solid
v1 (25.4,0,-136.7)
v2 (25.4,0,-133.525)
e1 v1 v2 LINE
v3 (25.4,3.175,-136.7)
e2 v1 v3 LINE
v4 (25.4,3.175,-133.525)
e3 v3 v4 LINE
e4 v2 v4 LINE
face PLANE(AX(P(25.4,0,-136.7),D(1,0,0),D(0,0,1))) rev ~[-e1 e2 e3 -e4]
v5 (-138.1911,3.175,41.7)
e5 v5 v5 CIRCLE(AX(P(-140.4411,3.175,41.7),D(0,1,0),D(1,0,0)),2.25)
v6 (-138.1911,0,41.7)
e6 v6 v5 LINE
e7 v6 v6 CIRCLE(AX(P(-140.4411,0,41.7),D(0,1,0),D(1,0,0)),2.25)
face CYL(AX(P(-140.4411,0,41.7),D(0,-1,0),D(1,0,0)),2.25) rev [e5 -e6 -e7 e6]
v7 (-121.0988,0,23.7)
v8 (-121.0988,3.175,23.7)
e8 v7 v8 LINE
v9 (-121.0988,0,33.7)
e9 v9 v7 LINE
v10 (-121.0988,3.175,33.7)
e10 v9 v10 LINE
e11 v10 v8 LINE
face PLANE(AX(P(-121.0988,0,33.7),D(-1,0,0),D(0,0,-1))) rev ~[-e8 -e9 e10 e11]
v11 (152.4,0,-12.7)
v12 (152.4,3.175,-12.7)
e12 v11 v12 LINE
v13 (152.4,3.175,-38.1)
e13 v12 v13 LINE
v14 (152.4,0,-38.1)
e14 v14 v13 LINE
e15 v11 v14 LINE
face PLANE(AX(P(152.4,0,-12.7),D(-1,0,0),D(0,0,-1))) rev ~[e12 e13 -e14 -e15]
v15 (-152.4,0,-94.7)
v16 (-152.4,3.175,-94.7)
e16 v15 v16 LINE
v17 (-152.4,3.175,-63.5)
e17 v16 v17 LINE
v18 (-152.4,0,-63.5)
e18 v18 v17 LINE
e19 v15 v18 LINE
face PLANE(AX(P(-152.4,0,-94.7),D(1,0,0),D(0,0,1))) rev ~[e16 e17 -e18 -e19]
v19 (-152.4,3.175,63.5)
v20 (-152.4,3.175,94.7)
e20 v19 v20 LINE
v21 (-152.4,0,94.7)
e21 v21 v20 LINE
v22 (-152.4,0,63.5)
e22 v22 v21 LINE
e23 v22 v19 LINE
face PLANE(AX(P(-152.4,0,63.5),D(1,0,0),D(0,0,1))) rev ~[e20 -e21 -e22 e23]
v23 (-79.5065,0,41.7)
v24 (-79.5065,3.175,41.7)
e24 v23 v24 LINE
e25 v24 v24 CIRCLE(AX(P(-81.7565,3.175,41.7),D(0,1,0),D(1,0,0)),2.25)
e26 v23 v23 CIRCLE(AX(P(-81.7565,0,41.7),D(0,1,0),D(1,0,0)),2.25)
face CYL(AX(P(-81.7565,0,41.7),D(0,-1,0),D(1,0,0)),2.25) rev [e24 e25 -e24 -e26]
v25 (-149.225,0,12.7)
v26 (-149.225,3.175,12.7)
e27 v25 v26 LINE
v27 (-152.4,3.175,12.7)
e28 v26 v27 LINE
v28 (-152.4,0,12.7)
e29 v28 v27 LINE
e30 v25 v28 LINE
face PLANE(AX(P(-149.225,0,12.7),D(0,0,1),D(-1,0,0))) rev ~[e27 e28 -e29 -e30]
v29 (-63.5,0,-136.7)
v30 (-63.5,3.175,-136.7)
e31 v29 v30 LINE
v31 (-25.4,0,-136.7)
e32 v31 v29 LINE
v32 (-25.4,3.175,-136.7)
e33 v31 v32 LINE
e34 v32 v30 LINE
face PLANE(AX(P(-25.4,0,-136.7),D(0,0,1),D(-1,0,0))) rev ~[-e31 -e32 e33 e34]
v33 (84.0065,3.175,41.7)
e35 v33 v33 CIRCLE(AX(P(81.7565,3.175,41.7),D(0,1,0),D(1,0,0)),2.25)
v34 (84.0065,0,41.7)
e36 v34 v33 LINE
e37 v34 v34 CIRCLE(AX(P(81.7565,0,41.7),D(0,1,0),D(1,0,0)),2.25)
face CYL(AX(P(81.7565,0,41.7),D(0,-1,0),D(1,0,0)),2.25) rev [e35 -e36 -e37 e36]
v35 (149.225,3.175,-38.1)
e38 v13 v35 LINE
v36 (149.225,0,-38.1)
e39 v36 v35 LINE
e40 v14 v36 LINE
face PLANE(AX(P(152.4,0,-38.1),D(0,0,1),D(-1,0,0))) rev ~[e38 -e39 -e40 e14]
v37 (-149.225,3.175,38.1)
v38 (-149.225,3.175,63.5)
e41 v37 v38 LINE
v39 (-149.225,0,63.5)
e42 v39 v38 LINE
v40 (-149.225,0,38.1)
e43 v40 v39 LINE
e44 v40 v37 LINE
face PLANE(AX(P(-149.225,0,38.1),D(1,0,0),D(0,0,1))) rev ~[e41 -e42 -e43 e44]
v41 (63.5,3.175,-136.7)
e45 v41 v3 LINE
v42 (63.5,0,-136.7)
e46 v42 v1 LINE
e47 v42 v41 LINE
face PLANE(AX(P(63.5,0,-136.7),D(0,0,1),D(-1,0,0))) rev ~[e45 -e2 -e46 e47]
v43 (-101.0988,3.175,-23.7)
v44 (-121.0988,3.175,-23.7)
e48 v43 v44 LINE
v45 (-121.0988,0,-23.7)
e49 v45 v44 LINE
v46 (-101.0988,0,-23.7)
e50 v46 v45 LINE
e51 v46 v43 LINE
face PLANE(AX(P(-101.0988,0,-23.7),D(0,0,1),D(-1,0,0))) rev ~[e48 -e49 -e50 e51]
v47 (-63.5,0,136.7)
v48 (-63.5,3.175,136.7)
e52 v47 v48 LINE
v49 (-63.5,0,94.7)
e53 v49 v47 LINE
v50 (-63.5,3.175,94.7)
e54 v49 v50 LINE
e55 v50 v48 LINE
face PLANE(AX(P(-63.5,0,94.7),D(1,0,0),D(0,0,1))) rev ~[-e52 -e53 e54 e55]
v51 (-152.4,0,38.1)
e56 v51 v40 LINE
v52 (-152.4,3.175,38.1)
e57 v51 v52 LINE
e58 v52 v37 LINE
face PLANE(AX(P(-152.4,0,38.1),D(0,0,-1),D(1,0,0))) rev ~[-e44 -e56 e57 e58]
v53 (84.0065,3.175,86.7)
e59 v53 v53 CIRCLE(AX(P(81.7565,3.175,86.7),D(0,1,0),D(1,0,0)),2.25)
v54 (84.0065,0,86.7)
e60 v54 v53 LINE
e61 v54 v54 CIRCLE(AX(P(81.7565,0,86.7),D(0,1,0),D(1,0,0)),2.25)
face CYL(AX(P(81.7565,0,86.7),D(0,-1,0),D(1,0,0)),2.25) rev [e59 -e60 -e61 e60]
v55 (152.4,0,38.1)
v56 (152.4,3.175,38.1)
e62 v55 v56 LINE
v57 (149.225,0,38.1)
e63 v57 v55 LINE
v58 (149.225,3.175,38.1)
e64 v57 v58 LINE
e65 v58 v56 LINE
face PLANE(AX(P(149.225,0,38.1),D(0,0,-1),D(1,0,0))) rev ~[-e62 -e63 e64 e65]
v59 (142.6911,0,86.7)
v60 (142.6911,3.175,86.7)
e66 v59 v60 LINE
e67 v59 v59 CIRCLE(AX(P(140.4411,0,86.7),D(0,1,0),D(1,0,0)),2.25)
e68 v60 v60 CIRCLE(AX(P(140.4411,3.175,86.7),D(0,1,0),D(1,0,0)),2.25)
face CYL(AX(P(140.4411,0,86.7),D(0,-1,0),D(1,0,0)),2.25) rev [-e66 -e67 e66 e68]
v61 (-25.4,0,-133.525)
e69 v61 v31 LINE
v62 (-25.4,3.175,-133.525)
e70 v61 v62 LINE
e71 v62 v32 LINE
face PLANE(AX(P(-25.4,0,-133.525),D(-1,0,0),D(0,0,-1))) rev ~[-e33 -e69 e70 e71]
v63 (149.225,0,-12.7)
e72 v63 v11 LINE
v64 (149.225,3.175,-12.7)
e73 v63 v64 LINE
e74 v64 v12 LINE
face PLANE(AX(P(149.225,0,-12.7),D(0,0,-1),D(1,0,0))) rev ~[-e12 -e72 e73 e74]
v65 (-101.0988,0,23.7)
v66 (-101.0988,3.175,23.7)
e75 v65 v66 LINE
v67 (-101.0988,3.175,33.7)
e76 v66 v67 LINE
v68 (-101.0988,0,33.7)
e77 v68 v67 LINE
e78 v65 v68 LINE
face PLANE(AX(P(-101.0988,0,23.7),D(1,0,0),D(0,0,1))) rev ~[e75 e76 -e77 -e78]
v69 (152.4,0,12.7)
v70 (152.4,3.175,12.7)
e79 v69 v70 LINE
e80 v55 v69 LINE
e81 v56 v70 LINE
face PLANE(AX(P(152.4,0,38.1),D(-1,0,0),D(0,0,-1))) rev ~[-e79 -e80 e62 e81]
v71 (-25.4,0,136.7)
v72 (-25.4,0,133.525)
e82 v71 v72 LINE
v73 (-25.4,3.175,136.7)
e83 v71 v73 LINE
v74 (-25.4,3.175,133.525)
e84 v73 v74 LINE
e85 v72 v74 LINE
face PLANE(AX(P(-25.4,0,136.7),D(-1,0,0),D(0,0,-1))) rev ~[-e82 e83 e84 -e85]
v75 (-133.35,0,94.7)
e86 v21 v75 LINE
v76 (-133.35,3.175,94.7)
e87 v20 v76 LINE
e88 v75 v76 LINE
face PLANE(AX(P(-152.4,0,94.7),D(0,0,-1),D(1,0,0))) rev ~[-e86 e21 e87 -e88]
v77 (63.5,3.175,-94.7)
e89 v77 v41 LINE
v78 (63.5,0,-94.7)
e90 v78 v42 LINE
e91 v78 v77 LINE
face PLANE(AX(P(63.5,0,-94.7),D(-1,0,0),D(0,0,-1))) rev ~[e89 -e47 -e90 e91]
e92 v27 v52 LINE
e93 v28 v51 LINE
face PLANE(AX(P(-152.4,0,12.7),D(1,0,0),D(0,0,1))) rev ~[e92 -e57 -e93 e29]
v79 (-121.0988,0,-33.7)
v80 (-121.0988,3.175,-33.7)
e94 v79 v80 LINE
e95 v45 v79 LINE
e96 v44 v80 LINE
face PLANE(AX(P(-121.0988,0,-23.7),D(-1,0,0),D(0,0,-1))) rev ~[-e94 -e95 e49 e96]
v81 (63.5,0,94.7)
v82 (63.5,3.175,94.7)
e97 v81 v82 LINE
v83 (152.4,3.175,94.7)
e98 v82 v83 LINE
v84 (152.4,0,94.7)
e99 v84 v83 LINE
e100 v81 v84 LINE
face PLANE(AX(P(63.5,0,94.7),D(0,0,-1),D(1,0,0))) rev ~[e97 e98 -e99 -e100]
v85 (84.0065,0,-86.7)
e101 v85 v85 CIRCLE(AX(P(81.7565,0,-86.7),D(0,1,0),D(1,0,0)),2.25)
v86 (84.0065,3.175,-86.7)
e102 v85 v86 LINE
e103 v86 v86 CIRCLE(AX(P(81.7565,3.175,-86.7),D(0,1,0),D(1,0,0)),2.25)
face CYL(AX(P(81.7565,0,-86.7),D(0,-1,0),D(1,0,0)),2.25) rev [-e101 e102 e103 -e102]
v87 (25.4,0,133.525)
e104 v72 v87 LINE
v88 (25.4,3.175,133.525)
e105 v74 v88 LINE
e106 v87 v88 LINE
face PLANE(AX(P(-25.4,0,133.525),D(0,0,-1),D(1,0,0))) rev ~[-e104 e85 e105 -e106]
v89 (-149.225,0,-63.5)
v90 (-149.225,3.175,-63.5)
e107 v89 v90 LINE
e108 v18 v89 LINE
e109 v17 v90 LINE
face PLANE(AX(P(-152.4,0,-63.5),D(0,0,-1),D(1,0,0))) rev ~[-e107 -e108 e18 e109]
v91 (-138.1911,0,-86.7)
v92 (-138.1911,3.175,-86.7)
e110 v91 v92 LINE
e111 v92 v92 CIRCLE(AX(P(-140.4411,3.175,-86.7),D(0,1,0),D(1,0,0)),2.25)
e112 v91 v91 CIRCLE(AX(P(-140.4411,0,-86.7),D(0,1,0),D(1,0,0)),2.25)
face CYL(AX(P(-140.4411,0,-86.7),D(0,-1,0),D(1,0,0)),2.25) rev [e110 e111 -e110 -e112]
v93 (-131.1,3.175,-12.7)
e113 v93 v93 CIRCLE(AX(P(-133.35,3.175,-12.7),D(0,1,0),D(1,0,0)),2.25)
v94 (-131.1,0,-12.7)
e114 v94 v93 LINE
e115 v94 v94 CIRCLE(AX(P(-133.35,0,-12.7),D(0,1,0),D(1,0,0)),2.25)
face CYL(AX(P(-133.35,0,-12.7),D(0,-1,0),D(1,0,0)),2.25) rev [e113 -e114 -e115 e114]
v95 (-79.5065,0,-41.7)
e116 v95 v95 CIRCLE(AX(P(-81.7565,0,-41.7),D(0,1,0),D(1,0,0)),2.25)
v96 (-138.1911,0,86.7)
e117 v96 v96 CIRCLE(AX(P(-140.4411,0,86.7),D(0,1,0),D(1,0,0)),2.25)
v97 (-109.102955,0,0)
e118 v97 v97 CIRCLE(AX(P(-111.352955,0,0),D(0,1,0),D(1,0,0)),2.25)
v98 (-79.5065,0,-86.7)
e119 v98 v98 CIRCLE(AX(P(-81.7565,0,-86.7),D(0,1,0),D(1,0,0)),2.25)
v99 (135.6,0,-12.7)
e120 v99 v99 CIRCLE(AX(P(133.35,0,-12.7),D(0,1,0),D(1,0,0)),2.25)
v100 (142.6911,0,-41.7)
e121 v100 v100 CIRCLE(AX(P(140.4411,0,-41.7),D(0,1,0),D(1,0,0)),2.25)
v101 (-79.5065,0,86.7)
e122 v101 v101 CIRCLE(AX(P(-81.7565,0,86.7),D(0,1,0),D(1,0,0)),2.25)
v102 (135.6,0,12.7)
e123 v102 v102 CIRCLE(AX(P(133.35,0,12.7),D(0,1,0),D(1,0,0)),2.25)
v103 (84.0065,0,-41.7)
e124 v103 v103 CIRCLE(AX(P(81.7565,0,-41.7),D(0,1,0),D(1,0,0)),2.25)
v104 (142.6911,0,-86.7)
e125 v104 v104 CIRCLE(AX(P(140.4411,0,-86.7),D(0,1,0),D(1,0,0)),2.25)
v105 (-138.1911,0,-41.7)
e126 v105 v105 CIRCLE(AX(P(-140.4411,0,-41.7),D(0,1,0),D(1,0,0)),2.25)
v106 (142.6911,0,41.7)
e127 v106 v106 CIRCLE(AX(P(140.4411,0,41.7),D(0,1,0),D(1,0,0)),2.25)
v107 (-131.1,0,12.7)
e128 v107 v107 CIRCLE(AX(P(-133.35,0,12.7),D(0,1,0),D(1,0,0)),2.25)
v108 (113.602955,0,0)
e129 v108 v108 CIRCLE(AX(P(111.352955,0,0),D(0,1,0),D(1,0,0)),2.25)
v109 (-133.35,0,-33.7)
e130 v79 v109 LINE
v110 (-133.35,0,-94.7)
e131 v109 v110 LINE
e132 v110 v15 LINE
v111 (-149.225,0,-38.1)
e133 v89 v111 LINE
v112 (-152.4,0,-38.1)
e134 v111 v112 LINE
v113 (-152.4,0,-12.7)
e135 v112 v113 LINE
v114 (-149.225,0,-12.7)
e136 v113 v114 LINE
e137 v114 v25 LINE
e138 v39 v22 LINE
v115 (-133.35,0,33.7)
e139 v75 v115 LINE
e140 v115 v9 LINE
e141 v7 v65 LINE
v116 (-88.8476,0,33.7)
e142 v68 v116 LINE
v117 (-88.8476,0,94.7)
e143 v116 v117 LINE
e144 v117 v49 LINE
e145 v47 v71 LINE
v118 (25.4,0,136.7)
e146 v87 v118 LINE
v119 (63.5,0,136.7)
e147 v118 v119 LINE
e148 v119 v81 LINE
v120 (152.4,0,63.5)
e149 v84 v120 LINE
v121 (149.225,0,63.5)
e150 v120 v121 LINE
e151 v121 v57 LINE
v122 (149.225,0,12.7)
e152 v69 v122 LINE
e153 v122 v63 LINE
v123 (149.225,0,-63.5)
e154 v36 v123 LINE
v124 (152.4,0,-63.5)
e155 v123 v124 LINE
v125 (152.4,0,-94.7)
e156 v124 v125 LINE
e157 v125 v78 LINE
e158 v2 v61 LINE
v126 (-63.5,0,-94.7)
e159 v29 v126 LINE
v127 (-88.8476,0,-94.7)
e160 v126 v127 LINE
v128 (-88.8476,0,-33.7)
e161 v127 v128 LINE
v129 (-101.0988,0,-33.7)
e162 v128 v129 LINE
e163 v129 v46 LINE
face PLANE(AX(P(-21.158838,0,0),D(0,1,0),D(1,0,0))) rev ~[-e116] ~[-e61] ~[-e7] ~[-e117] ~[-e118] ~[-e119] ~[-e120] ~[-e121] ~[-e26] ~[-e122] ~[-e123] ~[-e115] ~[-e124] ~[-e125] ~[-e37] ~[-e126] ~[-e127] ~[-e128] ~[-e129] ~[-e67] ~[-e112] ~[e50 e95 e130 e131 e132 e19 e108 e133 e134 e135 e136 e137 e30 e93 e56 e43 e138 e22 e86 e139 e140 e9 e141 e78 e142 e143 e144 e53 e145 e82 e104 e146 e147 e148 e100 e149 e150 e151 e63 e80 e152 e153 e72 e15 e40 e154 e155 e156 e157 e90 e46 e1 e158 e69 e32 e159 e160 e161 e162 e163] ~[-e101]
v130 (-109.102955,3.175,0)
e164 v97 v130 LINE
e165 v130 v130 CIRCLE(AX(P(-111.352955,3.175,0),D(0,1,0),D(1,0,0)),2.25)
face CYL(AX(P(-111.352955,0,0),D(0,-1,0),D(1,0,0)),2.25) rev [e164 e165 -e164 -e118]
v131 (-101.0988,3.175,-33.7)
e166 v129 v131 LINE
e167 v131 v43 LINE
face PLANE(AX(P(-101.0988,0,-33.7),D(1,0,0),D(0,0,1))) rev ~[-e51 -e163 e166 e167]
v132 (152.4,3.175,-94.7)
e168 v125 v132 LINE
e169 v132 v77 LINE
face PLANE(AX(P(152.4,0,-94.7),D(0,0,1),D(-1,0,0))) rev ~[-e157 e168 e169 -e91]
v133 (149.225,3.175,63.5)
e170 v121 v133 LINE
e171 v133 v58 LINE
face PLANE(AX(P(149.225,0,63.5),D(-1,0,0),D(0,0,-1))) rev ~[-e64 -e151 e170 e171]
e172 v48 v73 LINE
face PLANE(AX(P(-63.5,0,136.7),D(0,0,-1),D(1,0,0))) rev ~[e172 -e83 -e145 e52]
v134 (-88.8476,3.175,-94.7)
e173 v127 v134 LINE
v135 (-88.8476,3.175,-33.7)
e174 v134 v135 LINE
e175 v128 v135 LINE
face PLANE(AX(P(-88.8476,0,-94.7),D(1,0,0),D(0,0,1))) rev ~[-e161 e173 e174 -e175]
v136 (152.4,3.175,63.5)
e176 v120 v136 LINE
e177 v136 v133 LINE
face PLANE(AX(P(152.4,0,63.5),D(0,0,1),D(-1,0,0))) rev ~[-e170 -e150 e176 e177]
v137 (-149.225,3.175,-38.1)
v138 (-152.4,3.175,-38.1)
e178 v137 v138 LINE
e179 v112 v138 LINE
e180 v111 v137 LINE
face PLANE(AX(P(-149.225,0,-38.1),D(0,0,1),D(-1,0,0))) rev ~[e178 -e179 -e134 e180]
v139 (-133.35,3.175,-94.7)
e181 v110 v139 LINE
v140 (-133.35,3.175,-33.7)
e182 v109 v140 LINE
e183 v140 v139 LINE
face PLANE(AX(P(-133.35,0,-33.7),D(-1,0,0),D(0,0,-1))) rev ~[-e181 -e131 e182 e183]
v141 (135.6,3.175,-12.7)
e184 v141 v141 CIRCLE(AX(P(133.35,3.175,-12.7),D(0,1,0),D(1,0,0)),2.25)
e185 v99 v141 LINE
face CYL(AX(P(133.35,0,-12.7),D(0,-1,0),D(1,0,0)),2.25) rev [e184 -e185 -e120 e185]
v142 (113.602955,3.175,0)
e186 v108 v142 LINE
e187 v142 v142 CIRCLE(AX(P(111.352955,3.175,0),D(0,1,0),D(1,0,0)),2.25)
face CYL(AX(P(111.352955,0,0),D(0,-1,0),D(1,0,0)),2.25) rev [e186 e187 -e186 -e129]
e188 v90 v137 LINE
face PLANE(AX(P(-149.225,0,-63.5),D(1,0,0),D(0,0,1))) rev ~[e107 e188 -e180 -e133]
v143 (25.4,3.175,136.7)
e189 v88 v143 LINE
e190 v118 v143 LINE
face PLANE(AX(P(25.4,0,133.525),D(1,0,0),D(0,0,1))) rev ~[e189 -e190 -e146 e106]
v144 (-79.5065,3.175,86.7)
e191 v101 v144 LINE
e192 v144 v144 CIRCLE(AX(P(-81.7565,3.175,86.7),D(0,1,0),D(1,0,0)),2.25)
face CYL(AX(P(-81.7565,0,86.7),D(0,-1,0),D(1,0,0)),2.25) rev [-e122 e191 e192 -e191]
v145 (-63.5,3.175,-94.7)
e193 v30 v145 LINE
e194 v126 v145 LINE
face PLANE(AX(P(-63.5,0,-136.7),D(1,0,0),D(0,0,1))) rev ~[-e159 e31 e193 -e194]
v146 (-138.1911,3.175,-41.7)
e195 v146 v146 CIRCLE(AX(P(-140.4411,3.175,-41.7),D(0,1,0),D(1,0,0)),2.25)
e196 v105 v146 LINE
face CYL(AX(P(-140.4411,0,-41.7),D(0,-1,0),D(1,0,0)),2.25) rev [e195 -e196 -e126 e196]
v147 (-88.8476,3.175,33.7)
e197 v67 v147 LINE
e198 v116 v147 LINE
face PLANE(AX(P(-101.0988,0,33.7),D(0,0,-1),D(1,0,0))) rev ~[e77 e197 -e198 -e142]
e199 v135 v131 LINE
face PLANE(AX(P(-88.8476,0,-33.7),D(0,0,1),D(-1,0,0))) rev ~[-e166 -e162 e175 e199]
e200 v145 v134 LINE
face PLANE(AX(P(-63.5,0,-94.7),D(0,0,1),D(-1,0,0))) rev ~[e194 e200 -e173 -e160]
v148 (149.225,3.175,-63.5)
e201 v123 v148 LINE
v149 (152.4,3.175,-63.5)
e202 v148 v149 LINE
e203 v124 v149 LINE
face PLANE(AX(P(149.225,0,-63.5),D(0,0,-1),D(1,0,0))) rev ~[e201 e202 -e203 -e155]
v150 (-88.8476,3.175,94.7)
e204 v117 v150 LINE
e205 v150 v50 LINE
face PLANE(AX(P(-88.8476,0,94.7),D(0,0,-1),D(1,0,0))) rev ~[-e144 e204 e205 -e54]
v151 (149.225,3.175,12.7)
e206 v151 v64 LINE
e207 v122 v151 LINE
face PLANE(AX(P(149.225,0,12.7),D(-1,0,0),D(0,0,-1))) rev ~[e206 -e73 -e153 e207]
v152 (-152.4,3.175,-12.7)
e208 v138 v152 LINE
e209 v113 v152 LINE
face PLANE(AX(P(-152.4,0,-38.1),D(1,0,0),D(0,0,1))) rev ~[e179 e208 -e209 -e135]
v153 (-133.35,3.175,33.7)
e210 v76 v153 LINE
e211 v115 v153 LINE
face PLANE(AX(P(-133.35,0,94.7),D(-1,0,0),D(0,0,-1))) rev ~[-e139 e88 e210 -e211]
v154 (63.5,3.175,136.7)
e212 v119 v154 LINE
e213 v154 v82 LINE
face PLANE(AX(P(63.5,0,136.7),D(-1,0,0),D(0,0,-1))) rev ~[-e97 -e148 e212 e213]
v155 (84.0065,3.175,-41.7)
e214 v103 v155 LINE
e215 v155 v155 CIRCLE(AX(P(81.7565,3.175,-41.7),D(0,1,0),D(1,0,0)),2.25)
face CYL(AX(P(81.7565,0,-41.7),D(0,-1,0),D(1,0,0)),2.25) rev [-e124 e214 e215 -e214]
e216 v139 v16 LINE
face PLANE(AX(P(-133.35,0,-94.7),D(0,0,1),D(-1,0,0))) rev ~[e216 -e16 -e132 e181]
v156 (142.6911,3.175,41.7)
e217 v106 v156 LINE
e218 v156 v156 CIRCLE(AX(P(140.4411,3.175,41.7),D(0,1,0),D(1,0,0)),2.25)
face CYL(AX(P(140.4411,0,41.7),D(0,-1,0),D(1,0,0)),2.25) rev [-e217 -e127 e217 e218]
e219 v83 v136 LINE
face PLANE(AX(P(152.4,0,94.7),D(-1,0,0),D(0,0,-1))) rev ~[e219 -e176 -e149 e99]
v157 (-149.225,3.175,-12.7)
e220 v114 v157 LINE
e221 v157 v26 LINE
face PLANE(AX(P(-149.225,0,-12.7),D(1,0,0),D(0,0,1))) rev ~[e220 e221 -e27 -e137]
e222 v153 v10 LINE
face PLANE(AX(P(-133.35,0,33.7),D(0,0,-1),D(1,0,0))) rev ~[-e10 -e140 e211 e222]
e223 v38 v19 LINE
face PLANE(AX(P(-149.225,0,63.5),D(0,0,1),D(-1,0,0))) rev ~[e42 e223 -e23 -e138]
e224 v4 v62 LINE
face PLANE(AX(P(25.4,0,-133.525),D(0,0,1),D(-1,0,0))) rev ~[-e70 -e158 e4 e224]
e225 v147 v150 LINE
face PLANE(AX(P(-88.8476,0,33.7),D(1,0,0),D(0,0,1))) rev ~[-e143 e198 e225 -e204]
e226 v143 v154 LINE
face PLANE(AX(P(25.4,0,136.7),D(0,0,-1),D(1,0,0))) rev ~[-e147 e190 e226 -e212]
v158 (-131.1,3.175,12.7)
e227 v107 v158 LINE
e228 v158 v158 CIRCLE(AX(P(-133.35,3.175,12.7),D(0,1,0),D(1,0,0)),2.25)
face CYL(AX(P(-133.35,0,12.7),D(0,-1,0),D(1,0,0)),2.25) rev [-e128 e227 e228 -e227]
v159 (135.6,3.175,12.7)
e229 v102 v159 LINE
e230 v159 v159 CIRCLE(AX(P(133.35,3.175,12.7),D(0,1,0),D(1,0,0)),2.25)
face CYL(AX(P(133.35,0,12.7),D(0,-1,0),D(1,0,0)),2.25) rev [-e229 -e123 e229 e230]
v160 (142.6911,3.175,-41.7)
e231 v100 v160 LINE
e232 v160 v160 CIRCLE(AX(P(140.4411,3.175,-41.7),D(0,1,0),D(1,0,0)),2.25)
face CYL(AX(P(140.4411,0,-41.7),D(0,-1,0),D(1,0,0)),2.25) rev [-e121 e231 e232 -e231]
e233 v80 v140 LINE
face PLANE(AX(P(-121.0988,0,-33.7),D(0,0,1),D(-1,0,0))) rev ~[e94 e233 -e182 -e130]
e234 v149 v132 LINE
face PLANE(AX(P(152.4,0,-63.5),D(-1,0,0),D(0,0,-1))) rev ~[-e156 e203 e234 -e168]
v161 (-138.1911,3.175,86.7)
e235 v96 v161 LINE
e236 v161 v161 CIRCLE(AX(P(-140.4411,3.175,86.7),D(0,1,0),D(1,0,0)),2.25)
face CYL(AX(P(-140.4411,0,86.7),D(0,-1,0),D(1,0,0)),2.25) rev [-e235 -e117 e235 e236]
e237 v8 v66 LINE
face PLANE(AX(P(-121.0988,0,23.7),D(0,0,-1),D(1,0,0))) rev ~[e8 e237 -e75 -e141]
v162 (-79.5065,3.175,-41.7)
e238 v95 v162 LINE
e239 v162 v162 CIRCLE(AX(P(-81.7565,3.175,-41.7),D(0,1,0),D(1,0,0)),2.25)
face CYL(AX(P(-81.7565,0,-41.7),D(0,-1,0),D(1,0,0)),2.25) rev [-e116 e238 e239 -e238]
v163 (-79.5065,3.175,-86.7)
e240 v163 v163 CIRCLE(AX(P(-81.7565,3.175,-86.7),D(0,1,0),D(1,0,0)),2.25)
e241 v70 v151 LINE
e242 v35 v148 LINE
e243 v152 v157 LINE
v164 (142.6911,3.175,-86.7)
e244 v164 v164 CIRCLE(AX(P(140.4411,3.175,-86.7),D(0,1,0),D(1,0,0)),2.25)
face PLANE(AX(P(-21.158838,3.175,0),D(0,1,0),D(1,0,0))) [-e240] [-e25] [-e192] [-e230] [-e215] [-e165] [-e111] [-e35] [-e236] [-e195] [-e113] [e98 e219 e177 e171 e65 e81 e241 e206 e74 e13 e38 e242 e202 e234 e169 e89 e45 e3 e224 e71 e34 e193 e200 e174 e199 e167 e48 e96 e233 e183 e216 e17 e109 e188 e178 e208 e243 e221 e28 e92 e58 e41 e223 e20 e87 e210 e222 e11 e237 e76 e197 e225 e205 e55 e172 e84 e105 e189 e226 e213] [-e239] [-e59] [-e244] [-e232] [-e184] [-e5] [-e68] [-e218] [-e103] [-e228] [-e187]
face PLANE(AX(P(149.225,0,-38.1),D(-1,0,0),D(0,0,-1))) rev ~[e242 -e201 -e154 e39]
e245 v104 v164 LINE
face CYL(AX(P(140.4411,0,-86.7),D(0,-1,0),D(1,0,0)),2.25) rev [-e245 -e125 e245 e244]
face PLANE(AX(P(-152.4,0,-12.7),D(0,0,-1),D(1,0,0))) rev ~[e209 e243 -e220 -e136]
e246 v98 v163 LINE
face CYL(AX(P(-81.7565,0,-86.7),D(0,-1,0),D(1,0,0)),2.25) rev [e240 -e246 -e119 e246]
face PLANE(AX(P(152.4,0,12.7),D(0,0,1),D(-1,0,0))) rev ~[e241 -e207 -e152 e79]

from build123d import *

# Parameters (mm, degrees)
SKETCH1_R           = 2.25
BOSS_EXTRUDE1_DEPTH = 3.175


with BuildPart() as part:
    # Sketch1 → Boss-Extrude1 (new body)
    with BuildSketch(Plane(origin=(0, 0, 0), x_dir=(1, 0, 0), z_dir=(0, 1, 0))):
        Polygon((152.4, 63.5), (152.4, 94.7), (63.5, 94.7), (63.5, 136.7), (25.4, 136.7), (25.4, 133.525), (-25.4, 133.525), (-25.4, 136.7), (-63.5, 136.7), (-63.5, 94.7), (-88.8476, 94.7), (-88.8476, 33.7), (-101.0988, 33.7), (-101.0988, 23.7), (-121.0988, 23.7), (-121.0988, 33.7), (-133.35, 33.7), (-133.35, 94.7), (-152.4, 94.7), (-152.4, 63.5), (-149.225, 63.5), (-149.225, 38.1), (-152.4, 38.1), (-152.4, 12.7), (-149.225, 12.7), (-149.225, -12.7), (-152.4, -12.7), (-152.4, -38.1), (-149.225, -38.1), (-149.225, -63.5), (-152.4, -63.5), (-152.4, -94.7), (-133.35, -94.7), (-133.35, -33.7), (-121.0988, -33.7), (-121.0988, -23.7), (-101.0988, -23.7), (-101.0988, -33.7), (-88.8476, -33.7), (-88.8476, -94.7), (-63.5, -94.7), (-63.5, -136.7), (-25.4, -136.7), (-25.4, -133.525), (25.4, -133.525), (25.4, -136.7), (63.5, -136.7), (63.5, -94.7), (152.4, -94.7), (152.4, -63.5), (149.225, -63.5), (149.225, -38.1), (152.4, -38.1), (152.4, -12.7), (149.225, -12.7), (149.225, 12.7), (152.4, 12.7), (152.4, 38.1), (149.225, 38.1), (149.225, 63.5), align=None)
        with Locations((-140.4411, -86.7)):
            Circle(SKETCH1_R, mode=Mode.SUBTRACT)
        with Locations((-81.7565, -86.7)):
            Circle(SKETCH1_R, mode=Mode.SUBTRACT)
        with Locations((-140.4411, -41.7)):
            Circle(SKETCH1_R, mode=Mode.SUBTRACT)
        with Locations((-81.7565, -41.7)):
            Circle(SKETCH1_R, mode=Mode.SUBTRACT)
        with Locations((-133.35, -12.7)):
            Circle(SKETCH1_R, mode=Mode.SUBTRACT)
        with Locations((81.7565, -86.7)):
            Circle(SKETCH1_R, mode=Mode.SUBTRACT)
        with Locations((140.4411, -86.7)):
            Circle(SKETCH1_R, mode=Mode.SUBTRACT)
        with Locations((81.7565, -41.7)):
            Circle(SKETCH1_R, mode=Mode.SUBTRACT)
        with Locations((140.4411, -41.7)):
            Circle(SKETCH1_R, mode=Mode.SUBTRACT)
        with Locations((133.35, -12.7)):
            Circle(SKETCH1_R, mode=Mode.SUBTRACT)
        with Locations((-133.35, 12.7)):
            Circle(SKETCH1_R, mode=Mode.SUBTRACT)
        with Locations((-111.352954744, 0)):
            Circle(SKETCH1_R, mode=Mode.SUBTRACT)
        with Locations((-140.4411, 41.7)):
            Circle(SKETCH1_R, mode=Mode.SUBTRACT)
        with Locations((-81.7565, 41.7)):
            Circle(SKETCH1_R, mode=Mode.SUBTRACT)
        with Locations((-140.4411, 86.7)):
            Circle(SKETCH1_R, mode=Mode.SUBTRACT)
        with Locations((-81.7565, 86.7)):
            Circle(SKETCH1_R, mode=Mode.SUBTRACT)
        with Locations((111.352954744, 0)):
            Circle(SKETCH1_R, mode=Mode.SUBTRACT)
        with Locations((133.35, 12.7)):
            Circle(SKETCH1_R, mode=Mode.SUBTRACT)
        with Locations((81.7565, 41.7)):
            Circle(SKETCH1_R, mode=Mode.SUBTRACT)
        with Locations((140.4411, 41.7)):
            Circle(SKETCH1_R, mode=Mode.SUBTRACT)
        with Locations((81.7565, 86.7)):
            Circle(SKETCH1_R, mode=Mode.SUBTRACT)
        with Locations((140.4411, 86.7)):
            Circle(SKETCH1_R, mode=Mode.SUBTRACT)
    extrude(amount=BOSS_EXTRUDE1_DEPTH)


solid = part.part
